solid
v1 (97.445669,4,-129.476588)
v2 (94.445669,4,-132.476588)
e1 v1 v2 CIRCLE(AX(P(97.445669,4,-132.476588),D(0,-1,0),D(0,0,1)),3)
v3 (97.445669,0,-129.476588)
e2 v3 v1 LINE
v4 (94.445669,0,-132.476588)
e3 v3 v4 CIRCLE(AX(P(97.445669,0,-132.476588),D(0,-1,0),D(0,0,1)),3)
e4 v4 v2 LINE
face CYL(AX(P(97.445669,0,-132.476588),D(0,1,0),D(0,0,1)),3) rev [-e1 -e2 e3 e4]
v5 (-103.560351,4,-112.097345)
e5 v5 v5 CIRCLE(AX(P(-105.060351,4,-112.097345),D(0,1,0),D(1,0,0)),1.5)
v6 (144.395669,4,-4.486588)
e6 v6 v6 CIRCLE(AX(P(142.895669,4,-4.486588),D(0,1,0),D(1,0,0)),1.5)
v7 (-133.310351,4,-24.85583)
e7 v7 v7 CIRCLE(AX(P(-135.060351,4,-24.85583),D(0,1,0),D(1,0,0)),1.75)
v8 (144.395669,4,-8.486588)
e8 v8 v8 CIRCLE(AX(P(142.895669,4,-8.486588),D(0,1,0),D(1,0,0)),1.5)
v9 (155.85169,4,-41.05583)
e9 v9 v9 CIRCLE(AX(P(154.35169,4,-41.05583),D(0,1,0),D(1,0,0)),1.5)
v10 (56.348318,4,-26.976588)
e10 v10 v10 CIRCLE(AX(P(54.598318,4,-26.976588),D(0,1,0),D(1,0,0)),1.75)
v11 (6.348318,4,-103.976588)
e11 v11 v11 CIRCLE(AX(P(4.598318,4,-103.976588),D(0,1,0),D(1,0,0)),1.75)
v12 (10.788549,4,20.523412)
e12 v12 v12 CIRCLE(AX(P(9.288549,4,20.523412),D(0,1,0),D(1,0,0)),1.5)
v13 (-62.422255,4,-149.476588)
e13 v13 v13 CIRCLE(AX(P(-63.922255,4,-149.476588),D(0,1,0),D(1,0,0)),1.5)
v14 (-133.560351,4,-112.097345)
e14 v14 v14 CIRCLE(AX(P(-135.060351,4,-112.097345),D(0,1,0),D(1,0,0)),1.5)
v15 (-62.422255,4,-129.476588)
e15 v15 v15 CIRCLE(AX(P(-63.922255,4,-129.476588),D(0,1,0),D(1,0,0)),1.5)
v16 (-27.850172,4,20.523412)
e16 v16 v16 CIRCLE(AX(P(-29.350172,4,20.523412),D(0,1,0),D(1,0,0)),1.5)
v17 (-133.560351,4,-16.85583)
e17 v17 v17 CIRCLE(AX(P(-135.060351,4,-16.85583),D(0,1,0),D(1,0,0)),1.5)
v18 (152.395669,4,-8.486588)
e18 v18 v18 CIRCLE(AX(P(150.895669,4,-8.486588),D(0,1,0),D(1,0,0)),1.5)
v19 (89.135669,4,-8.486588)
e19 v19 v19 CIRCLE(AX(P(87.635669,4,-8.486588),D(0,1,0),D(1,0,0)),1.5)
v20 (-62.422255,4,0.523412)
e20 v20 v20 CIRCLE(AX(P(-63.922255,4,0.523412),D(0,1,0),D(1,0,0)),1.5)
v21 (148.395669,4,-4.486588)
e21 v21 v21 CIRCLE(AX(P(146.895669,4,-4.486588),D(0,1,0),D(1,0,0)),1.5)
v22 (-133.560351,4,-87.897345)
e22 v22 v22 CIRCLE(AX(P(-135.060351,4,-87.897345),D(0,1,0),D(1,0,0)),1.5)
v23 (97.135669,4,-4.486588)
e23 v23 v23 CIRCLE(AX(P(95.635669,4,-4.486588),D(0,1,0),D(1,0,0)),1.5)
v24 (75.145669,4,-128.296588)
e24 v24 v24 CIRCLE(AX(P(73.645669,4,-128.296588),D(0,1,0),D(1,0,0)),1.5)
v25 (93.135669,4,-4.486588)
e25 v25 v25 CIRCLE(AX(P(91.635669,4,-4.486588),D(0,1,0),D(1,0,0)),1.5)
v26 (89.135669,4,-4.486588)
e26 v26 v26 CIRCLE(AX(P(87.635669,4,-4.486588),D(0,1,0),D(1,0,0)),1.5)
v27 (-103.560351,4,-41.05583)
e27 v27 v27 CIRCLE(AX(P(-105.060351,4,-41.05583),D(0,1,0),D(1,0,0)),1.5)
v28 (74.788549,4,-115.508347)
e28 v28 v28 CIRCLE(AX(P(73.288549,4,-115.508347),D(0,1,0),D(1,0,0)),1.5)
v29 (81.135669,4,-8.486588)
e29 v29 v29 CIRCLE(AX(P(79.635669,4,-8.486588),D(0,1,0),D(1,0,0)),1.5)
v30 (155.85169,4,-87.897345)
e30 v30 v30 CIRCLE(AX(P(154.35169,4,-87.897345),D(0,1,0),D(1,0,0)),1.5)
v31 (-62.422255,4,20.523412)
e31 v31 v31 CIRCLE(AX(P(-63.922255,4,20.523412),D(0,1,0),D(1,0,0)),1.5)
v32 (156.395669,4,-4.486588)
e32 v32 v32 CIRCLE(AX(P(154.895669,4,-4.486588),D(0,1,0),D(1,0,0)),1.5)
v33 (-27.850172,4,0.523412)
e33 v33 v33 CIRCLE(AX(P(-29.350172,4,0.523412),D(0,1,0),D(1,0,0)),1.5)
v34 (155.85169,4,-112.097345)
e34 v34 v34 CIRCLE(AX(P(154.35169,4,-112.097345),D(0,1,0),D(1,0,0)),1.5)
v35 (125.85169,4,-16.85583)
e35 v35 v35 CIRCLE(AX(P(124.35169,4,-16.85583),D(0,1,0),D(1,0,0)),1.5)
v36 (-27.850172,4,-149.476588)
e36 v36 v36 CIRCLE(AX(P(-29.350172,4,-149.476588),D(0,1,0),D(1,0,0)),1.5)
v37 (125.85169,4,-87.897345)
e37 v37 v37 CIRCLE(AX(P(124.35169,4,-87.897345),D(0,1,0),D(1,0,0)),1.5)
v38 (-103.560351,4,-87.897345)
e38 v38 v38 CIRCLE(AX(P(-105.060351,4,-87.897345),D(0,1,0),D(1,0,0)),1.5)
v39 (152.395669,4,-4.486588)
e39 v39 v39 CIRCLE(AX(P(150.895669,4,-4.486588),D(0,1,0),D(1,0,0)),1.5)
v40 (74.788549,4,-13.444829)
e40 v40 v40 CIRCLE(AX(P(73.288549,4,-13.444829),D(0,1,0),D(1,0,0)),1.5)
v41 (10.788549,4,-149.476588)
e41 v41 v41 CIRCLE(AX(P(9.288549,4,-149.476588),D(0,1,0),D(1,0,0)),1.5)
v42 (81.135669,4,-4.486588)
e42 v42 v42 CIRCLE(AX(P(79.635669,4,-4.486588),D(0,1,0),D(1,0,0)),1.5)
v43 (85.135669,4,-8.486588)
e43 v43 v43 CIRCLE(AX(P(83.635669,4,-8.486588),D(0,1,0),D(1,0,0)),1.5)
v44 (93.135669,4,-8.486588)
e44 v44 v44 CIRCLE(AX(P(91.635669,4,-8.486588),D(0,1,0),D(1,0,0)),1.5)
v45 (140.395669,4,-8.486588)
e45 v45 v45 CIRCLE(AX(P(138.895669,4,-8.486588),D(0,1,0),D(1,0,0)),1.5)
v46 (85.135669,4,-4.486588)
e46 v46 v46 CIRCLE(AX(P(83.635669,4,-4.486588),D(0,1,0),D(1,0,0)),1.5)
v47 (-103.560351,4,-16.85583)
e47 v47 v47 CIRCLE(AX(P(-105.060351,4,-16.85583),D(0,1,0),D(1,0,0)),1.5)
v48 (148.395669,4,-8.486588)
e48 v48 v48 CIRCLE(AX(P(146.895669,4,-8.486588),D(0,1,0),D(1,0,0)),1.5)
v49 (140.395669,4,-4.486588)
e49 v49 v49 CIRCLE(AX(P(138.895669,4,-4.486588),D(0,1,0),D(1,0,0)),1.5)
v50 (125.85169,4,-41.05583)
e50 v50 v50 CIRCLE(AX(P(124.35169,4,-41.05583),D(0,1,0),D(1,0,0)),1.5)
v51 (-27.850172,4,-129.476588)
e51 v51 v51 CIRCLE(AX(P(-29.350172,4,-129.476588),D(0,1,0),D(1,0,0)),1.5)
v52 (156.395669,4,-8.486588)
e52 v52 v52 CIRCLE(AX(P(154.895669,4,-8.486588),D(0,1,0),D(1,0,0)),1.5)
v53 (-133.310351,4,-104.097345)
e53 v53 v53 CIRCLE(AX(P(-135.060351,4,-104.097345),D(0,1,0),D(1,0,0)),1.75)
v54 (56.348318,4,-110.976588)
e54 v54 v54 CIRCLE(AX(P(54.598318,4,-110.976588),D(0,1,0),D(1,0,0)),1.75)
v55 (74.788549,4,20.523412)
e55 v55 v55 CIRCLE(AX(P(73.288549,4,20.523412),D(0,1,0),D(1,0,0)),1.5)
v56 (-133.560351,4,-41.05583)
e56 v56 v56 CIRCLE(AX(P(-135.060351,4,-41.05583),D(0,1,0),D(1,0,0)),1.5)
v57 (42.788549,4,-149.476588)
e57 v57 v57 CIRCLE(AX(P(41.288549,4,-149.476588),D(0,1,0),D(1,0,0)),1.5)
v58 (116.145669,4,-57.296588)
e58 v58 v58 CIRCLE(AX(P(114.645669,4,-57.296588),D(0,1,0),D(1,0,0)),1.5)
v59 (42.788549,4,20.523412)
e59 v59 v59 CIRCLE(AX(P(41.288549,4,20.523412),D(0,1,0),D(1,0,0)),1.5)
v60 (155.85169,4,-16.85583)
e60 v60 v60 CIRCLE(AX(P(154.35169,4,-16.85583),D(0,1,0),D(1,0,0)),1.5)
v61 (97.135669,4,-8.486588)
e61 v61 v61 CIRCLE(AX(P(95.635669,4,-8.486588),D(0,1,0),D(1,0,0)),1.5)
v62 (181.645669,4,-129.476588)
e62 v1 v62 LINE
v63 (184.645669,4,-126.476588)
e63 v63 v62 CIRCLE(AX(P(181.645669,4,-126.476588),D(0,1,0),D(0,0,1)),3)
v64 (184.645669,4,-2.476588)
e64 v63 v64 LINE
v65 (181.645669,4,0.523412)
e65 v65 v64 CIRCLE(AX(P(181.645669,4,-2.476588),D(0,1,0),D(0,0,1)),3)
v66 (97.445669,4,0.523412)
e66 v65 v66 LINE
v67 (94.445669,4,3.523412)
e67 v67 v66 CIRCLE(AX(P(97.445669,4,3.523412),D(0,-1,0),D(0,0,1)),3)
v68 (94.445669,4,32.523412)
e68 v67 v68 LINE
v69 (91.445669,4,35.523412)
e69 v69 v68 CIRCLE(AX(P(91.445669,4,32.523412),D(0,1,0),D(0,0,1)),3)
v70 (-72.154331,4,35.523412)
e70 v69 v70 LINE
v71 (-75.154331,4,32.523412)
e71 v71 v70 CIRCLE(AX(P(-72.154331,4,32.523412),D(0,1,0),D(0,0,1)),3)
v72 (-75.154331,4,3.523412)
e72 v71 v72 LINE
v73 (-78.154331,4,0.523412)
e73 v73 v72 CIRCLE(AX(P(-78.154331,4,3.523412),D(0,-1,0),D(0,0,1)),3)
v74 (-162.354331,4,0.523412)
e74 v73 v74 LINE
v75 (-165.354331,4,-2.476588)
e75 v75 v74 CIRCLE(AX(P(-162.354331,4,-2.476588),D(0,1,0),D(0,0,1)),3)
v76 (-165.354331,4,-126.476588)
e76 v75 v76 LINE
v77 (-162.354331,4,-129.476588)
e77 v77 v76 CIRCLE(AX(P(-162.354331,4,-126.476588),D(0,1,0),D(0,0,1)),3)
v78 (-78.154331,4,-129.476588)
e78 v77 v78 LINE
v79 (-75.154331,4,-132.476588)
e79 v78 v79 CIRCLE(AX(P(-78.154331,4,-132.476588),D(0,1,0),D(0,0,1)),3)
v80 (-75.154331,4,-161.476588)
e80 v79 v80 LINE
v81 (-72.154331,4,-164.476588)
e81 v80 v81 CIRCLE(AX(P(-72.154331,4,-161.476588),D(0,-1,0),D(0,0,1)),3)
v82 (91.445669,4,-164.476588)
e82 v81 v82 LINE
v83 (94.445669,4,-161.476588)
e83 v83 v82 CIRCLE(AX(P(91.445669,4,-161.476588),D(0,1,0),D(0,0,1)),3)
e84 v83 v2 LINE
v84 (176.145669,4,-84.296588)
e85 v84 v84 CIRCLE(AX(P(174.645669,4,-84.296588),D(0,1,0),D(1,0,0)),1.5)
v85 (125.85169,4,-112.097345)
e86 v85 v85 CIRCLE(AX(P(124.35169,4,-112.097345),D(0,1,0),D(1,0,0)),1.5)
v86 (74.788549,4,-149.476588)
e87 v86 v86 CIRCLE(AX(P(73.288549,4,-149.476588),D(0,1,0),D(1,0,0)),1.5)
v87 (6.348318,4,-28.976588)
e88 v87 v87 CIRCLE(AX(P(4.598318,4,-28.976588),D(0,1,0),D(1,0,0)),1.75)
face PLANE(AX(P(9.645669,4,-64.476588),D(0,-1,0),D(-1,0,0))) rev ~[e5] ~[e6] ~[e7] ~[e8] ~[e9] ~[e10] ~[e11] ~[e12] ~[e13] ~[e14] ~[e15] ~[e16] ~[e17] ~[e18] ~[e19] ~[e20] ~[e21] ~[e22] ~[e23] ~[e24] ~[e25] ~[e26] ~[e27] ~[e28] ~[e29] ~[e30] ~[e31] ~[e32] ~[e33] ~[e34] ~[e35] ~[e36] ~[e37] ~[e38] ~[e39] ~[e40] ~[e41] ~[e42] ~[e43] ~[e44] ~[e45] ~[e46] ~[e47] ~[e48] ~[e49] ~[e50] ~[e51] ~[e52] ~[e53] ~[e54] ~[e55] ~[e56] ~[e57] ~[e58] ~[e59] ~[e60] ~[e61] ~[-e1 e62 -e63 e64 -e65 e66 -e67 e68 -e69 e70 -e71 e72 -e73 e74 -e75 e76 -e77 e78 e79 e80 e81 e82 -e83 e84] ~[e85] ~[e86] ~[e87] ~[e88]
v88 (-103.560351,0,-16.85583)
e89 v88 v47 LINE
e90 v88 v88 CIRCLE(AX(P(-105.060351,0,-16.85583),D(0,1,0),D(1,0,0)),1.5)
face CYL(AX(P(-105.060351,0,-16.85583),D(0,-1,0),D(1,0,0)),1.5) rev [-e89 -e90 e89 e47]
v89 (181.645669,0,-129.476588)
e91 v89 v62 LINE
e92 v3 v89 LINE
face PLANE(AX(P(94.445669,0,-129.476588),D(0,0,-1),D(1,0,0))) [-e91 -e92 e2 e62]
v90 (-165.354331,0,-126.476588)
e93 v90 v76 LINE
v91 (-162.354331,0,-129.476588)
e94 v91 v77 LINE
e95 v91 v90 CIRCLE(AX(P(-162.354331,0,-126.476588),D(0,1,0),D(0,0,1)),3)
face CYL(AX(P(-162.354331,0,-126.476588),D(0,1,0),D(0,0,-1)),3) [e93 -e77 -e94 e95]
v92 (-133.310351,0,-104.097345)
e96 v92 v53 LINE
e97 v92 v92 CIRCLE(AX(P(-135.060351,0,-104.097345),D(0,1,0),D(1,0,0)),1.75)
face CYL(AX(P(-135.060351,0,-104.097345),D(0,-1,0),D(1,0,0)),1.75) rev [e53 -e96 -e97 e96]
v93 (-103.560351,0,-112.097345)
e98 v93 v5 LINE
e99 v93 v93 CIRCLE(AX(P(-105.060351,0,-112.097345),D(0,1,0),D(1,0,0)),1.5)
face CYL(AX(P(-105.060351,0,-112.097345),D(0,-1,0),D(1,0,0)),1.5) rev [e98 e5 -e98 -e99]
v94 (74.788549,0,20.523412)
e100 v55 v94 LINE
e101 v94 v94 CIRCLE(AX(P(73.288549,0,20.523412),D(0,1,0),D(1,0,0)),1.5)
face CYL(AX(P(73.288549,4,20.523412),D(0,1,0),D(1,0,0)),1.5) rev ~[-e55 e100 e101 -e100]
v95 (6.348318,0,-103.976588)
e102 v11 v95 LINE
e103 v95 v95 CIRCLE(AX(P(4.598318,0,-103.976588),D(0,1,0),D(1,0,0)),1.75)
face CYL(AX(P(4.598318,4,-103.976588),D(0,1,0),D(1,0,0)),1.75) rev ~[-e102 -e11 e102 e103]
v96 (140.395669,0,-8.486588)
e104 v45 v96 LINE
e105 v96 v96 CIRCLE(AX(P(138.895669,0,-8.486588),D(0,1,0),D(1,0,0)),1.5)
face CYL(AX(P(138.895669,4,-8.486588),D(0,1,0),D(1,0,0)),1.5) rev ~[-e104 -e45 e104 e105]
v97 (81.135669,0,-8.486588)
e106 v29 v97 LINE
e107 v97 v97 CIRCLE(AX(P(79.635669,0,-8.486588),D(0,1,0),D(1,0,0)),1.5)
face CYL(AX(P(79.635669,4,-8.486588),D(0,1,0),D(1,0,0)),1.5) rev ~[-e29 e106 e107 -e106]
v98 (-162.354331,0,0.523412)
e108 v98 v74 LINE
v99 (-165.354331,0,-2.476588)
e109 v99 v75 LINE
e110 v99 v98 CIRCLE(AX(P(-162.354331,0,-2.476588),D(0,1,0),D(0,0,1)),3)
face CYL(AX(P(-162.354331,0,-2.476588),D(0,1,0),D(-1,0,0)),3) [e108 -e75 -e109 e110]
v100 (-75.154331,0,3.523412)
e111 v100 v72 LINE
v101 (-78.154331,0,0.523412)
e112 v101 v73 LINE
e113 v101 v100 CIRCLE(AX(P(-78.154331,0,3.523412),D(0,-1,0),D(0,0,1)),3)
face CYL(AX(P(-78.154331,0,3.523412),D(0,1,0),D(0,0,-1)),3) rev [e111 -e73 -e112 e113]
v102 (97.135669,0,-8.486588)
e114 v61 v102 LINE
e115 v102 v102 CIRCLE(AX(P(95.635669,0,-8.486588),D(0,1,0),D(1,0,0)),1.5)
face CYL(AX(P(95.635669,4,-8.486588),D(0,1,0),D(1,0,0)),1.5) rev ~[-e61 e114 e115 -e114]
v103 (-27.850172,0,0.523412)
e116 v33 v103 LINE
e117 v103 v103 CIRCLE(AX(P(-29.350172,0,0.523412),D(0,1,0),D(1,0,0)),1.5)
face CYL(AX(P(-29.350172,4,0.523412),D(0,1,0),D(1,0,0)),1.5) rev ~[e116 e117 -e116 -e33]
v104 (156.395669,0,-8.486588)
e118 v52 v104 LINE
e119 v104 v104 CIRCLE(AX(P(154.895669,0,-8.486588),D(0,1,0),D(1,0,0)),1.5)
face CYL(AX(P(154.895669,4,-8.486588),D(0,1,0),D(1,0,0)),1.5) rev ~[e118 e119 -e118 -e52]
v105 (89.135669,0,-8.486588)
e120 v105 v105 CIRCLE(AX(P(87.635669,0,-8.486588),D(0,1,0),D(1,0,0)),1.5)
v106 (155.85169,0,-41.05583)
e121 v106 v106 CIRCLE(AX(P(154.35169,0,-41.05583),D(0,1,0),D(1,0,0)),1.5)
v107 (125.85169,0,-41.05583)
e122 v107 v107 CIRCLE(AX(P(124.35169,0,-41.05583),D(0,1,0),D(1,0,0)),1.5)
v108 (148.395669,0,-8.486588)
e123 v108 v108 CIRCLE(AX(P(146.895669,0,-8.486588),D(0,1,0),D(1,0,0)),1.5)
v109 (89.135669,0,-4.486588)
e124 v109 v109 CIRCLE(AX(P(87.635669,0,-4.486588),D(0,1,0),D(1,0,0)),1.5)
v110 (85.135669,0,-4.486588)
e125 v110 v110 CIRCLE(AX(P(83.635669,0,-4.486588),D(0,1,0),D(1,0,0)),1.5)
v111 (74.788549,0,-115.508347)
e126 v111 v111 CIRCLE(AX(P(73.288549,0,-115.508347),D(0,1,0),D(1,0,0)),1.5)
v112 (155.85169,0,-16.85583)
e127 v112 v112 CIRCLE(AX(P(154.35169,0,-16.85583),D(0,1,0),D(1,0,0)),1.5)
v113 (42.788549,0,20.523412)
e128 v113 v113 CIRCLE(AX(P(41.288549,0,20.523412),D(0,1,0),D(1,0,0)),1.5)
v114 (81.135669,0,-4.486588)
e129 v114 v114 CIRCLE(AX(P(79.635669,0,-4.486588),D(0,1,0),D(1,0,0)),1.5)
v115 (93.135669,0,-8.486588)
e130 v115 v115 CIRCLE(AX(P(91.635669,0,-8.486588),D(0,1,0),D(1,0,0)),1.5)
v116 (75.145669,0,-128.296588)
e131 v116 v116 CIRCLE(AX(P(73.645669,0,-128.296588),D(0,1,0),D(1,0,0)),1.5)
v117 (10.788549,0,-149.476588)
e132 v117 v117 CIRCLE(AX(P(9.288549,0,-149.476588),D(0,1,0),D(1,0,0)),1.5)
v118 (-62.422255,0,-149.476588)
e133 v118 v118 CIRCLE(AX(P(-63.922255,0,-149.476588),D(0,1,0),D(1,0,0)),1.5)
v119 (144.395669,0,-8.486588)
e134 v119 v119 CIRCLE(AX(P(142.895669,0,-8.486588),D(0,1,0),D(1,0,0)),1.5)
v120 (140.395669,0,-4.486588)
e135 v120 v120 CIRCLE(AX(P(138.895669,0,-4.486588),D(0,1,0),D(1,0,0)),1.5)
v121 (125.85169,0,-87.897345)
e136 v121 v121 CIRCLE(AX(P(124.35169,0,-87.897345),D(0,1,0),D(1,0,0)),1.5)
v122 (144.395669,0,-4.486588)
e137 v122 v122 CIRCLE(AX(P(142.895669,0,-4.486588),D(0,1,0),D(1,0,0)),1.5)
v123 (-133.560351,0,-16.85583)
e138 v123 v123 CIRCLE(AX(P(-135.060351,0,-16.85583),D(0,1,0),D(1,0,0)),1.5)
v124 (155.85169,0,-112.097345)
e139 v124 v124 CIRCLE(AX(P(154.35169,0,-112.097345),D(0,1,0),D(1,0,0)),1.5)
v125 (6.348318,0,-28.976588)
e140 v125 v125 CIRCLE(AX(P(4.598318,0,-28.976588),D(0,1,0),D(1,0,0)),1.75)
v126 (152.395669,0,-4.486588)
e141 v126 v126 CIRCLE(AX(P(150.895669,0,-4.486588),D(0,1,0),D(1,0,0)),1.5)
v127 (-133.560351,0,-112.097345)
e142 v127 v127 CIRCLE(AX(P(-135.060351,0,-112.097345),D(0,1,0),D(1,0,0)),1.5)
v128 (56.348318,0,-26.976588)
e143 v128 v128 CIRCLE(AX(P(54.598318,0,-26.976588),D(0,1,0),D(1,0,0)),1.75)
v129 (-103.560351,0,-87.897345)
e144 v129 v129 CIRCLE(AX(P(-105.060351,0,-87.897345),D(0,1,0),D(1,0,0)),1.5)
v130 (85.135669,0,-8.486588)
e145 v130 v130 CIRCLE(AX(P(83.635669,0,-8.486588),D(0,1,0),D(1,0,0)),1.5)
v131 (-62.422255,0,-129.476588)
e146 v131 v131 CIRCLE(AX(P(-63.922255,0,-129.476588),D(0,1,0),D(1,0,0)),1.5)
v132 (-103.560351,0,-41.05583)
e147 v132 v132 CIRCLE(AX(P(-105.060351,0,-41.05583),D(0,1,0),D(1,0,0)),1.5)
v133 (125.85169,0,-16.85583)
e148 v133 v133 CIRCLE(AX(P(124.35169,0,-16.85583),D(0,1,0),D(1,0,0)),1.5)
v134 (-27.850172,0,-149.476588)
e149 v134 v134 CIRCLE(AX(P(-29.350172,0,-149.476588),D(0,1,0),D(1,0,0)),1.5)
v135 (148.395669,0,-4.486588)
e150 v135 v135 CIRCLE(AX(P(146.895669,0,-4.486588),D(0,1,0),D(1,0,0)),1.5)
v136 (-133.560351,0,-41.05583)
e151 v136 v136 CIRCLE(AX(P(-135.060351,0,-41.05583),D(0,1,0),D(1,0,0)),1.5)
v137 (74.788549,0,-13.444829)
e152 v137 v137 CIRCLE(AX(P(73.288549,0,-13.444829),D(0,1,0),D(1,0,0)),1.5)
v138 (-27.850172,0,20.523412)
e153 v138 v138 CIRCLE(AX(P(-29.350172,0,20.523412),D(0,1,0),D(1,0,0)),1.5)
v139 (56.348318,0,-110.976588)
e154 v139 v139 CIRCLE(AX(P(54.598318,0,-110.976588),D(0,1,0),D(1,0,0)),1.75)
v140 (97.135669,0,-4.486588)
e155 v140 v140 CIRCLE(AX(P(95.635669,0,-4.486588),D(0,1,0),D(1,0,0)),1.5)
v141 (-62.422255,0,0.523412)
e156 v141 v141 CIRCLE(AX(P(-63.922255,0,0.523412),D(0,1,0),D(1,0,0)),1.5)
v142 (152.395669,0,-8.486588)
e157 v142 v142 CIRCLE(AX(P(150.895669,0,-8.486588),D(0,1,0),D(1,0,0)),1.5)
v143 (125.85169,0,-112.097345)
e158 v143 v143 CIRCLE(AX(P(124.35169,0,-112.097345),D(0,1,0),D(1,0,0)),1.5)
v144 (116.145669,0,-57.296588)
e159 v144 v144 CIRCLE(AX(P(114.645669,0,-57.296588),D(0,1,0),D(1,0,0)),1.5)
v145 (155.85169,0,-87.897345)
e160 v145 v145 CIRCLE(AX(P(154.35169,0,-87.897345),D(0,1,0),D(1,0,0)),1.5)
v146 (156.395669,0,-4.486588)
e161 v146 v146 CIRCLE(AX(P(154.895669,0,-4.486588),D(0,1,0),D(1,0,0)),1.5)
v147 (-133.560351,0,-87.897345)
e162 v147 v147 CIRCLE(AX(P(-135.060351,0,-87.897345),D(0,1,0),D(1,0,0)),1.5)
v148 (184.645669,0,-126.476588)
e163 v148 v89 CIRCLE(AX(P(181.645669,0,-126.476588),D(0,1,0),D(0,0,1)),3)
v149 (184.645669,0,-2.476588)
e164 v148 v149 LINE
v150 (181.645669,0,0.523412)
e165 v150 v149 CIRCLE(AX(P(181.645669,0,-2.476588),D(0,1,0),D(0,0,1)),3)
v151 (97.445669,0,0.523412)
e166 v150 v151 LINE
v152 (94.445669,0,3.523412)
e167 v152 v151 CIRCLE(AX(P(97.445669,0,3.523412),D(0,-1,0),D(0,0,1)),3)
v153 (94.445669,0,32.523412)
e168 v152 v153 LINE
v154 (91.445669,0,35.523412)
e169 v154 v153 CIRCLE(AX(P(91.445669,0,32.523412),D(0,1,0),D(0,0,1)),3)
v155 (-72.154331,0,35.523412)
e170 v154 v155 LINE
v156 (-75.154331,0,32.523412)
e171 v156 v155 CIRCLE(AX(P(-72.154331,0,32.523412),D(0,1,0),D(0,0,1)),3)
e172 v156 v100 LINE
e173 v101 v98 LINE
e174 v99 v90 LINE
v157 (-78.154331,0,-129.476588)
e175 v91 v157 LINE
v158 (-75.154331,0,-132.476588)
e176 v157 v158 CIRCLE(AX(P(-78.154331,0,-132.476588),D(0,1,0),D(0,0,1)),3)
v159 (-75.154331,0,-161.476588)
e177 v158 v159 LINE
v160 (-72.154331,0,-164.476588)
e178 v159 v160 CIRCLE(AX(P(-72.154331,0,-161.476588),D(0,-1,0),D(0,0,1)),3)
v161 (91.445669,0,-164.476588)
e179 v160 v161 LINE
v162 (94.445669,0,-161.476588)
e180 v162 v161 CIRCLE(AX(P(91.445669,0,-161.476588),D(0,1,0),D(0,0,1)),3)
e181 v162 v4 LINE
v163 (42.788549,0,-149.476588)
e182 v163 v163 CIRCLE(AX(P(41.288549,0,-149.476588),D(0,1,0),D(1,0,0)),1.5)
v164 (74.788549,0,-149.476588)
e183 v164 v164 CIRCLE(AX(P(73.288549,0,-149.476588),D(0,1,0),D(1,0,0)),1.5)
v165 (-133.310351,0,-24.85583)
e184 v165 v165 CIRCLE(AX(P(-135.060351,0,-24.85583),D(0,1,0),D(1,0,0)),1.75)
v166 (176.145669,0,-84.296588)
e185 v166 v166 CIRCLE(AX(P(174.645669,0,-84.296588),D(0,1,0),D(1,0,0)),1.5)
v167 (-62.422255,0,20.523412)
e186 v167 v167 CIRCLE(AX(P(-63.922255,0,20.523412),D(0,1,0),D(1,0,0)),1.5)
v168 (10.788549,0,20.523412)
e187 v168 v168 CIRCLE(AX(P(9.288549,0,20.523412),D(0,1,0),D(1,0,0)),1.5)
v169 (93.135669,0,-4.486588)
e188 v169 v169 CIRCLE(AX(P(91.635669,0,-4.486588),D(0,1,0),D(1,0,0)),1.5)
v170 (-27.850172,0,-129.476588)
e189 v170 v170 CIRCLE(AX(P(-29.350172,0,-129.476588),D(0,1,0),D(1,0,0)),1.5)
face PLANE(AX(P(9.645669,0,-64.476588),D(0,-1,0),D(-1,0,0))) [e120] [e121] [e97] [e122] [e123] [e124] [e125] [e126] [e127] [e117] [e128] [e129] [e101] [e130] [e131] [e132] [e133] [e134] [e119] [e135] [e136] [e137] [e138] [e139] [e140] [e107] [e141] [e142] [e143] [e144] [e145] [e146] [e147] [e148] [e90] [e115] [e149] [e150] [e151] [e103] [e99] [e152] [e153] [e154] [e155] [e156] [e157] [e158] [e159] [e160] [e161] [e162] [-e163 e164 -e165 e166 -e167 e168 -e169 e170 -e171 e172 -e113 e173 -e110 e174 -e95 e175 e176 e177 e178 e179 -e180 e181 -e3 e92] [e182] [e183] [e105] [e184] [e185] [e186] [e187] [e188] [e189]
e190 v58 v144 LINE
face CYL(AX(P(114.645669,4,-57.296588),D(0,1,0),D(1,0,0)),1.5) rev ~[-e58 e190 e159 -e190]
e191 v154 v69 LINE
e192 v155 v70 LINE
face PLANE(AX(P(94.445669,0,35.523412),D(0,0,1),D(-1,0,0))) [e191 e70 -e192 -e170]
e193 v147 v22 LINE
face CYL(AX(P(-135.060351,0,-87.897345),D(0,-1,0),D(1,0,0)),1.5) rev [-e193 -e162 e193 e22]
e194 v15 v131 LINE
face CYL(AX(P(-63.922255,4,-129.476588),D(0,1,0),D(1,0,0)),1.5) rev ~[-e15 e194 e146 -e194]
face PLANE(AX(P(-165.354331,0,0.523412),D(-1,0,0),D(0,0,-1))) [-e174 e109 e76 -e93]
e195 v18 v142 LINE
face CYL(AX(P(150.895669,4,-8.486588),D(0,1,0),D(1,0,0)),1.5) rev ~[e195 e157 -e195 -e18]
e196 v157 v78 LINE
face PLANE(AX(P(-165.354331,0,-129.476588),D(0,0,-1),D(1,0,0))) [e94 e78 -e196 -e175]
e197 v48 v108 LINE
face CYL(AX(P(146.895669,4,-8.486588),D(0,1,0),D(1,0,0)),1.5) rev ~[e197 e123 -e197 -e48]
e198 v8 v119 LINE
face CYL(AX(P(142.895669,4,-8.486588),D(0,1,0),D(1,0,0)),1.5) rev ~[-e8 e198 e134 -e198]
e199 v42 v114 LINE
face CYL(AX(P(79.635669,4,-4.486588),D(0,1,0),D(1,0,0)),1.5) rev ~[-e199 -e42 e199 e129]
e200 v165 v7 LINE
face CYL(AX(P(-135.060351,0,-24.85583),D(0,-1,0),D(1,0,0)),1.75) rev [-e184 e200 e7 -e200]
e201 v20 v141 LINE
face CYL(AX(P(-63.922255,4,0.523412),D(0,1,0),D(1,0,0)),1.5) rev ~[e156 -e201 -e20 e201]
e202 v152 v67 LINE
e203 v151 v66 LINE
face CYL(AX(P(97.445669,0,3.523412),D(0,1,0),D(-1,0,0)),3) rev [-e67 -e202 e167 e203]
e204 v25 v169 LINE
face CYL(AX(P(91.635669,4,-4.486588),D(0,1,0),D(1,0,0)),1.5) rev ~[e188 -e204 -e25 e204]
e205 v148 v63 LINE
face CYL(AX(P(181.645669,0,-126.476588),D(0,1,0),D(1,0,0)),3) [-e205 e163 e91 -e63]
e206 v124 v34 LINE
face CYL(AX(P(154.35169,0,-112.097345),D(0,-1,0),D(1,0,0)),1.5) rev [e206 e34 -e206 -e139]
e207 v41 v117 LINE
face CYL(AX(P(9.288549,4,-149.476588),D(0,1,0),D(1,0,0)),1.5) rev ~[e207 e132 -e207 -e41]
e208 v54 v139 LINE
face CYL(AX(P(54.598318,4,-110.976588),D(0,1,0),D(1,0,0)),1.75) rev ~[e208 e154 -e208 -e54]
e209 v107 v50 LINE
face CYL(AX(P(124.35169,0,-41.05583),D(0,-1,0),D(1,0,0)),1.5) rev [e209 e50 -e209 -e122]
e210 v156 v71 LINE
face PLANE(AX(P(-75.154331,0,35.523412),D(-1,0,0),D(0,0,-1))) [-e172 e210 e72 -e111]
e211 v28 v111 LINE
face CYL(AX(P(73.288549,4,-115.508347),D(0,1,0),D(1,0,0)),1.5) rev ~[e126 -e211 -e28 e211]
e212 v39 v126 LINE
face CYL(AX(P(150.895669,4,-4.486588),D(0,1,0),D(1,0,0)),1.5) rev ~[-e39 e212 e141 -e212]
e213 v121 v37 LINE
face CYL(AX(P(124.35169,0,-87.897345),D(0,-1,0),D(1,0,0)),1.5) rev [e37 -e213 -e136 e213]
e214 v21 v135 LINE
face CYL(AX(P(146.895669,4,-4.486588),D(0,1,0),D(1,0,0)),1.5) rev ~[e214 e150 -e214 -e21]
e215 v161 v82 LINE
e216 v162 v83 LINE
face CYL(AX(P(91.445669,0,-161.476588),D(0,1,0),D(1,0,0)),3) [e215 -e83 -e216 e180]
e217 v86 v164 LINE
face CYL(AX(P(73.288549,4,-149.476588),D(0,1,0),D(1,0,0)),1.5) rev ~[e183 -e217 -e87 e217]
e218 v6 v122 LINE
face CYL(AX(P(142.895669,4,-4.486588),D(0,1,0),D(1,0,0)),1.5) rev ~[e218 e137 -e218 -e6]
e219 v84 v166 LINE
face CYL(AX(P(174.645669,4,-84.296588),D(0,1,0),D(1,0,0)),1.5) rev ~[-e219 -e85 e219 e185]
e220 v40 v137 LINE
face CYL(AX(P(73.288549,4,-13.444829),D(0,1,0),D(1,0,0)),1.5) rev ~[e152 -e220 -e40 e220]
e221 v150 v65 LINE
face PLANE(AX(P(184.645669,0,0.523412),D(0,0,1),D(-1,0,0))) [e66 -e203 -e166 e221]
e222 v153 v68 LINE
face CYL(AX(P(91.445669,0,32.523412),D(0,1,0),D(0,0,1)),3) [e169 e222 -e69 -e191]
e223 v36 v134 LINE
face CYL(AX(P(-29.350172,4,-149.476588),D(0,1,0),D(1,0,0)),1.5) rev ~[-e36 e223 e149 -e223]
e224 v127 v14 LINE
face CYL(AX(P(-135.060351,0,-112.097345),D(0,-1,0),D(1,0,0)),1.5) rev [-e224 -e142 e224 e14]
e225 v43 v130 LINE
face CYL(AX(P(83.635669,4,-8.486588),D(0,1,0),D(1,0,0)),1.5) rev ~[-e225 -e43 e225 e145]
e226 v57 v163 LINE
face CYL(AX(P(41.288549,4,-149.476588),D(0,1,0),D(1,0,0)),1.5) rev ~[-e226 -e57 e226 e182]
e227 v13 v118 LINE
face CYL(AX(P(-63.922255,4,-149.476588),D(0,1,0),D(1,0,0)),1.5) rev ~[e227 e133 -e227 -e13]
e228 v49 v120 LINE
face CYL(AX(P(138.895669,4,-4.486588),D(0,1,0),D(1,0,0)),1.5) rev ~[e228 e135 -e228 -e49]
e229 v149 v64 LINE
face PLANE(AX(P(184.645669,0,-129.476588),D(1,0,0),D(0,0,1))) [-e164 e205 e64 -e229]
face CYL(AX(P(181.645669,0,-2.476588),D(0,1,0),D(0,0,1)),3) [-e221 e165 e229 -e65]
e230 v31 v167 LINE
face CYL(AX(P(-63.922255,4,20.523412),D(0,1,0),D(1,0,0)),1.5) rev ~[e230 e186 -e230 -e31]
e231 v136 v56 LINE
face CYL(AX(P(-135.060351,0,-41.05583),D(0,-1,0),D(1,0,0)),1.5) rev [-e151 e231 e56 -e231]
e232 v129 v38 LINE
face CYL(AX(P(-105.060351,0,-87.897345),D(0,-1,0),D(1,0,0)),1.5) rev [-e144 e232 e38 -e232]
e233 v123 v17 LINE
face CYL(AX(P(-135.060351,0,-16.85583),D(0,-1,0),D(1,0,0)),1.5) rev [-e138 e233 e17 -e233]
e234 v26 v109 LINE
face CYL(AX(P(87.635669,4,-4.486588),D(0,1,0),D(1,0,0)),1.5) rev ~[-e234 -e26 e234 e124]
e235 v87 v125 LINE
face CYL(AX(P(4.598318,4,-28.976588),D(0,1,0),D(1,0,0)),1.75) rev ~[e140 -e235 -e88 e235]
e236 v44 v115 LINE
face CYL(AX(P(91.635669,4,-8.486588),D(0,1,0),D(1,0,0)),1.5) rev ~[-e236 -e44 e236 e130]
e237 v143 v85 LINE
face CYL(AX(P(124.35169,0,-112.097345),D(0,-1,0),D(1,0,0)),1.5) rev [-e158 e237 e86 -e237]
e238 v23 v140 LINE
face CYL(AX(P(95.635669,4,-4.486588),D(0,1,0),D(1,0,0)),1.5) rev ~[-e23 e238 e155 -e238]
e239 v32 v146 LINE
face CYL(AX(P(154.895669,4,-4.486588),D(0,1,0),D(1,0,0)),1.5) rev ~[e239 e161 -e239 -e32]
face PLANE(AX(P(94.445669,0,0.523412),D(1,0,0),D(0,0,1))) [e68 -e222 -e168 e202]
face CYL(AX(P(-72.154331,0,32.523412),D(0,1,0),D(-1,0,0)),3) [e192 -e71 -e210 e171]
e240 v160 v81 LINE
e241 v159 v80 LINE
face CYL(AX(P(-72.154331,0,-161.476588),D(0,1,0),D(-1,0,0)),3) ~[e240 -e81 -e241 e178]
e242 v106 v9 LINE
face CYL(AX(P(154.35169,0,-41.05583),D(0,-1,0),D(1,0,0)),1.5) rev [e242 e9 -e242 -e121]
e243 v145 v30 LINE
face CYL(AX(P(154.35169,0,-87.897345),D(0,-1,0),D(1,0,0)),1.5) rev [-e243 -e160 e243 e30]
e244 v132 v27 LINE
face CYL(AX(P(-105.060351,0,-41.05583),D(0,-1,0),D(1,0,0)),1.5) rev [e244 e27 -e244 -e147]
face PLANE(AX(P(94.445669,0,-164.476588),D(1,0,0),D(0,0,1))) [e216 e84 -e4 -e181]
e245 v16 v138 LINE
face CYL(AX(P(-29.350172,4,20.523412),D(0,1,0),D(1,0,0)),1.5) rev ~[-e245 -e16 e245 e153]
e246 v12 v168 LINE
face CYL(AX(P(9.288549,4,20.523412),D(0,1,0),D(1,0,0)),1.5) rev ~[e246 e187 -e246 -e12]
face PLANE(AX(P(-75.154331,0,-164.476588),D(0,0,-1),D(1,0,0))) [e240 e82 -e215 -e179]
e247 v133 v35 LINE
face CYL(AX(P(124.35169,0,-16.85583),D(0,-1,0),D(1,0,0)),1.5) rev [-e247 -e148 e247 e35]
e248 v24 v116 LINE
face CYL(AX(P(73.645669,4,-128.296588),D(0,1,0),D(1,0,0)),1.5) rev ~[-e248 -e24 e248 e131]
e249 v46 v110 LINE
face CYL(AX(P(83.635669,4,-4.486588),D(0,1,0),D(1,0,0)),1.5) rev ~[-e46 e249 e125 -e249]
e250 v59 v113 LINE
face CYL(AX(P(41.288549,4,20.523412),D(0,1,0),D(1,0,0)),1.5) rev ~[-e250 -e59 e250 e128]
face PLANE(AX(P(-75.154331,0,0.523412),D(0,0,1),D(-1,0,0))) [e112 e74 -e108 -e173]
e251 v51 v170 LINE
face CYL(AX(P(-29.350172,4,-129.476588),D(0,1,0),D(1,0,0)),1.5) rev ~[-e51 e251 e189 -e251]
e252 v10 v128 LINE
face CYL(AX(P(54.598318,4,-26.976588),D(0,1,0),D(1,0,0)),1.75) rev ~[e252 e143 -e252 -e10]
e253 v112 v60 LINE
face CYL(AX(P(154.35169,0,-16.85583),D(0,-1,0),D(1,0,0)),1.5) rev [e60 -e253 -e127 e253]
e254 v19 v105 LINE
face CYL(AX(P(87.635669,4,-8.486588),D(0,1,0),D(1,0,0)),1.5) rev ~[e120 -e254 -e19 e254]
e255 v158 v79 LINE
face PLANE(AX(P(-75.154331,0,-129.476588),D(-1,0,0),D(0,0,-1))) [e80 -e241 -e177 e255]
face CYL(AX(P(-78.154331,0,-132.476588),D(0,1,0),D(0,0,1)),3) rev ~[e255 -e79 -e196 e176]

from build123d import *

# Parameters (mm, degrees)
SKETCH_1_R          = 1.75
SKETCH_1_R_2        = 1.5
EXTRUDE_1_DEPTH     = 4
SKETCH_2_R          = 1.5
CUT_EXTRUDE_1_DEPTH = 5
FILLET_1_R          = 3
FILLET_2_R          = 3
FILLET_3_R          = 3
FILLET_4_R          = 3
FILLET_5_R          = 3
FILLET_6_R          = 3
FILLET_7_R          = 3
FILLET_8_R          = 3
FILLET_9_R          = 3
FILLET_10_R         = 3
FILLET_11_R         = 3
FILLET_12_R         = 3
SKETCH_3_R          = 1.75
CUT_EXTRUDE_2_DEPTH = 5
SKETCH_5_R          = 1.5
CUT_EXTRUDE_3_DEPTH = 5
SKETCH_6_R          = 1.5
CUT_EXTRUDE_4_DEPTH = 10


with BuildPart() as part:
    # 草图1 → 凸台-拉伸1 (new body)
    with BuildSketch(Plane(origin=(0, 0, 0), x_dir=(1, 0, 0), z_dir=(0, 1, 0))):
        Polygon((-165.354330709, -0.523412356), (-165.354330709, 129.476587644), (-75.154330709, 129.476587644), (-75.154330709, 164.476587644), (94.445669291, 164.476587644), (94.445669291, 129.476587644), (184.645669291, 129.476587644), (184.645669291, -0.523412356), (94.445669291, -0.523412356), (94.445669291, -35.523412356), (-75.154330709, -35.523412356), (-75.154330709, -0.523412356), align=None)
        with Locations((-135.060351007, 24.855830169)):
            Circle(SKETCH_1_R, mode=Mode.SUBTRACT)
        with Locations((-135.060351007, 104.097345119)):
            Circle(SKETCH_1_R, mode=Mode.SUBTRACT)
        with Locations((-105.060351007, 87.897345119)):
            Circle(SKETCH_1_R_2, mode=Mode.SUBTRACT)
        with Locations((-105.060351007, 112.097345119)):
            Circle(SKETCH_1_R_2, mode=Mode.SUBTRACT)
        with Locations((-135.060351007, 87.897345119)):
            Circle(SKETCH_1_R_2, mode=Mode.SUBTRACT)
        with Locations((-135.060351007, 112.097345119)):
            Circle(SKETCH_1_R_2, mode=Mode.SUBTRACT)
        with Locations((-105.060351007, 41.055830169)):
            Circle(SKETCH_1_R_2, mode=Mode.SUBTRACT)
        with Locations((-135.060351007, 41.055830169)):
            Circle(SKETCH_1_R_2, mode=Mode.SUBTRACT)
        with Locations((-105.060351007, 16.855830169)):
            Circle(SKETCH_1_R_2, mode=Mode.SUBTRACT)
        with Locations((-135.060351007, 16.855830169)):
            Circle(SKETCH_1_R_2, mode=Mode.SUBTRACT)
        with Locations((124.351689589, 16.855830169)):
            Circle(SKETCH_1_R_2, mode=Mode.SUBTRACT)
        with Locations((154.351689589, 16.855830169)):
            Circle(SKETCH_1_R_2, mode=Mode.SUBTRACT)
        with Locations((124.351689589, 41.055830169)):
            Circle(SKETCH_1_R_2, mode=Mode.SUBTRACT)
        with Locations((154.351689589, 41.055830169)):
            Circle(SKETCH_1_R_2, mode=Mode.SUBTRACT)
        with Locations((124.351689589, 87.897345119)):
            Circle(SKETCH_1_R_2, mode=Mode.SUBTRACT)
        with Locations((154.351689589, 87.897345119)):
            Circle(SKETCH_1_R_2, mode=Mode.SUBTRACT)
        with Locations((124.351689589, 112.097345119)):
            Circle(SKETCH_1_R_2, mode=Mode.SUBTRACT)
        with Locations((154.351689589, 112.097345119)):
            Circle(SKETCH_1_R_2, mode=Mode.SUBTRACT)
    extrude(amount=EXTRUDE_1_DEPTH)

    # 草图2 → 切除-拉伸1 (cut, through all)
    with BuildSketch(Plane(origin=(0, 4, 0), x_dir=(1, 0, 0), z_dir=(0, 1, 0))):
        with Locations((-29.350172185, 149.476587644)):
            Circle(SKETCH_2_R)
        with Locations((-29.350172185, 129.476587644)):
            Circle(SKETCH_2_R)
        with Locations((-63.922255051, 149.476587644)):
            Circle(SKETCH_2_R)
        with Locations((-63.922255051, 129.476587644)):
            Circle(SKETCH_2_R)
        with Locations((-29.350172185, -0.523412356)):
            Circle(SKETCH_2_R)
        with Locations((-29.350172185, -20.523412356)):
            Circle(SKETCH_2_R)
        with Locations((-63.922255051, -20.523412356)):
            Circle(SKETCH_2_R)
        with Locations((-63.922255051, -0.523412356)):
            Circle(SKETCH_2_R)
        with Locations((9.288549374, 149.476587644)):
            Circle(SKETCH_2_R)
        with Locations((41.288549374, 149.476587644)):
            Circle(SKETCH_2_R)
        with Locations((73.288549374, 149.476587644)):
            Circle(SKETCH_2_R)
        with Locations((73.288549374, 115.508346765)):
            Circle(SKETCH_2_R)
        with Locations((41.288549374, -20.523412356)):
            Circle(SKETCH_2_R)
        with Locations((73.288549374, -20.523412356)):
            Circle(SKETCH_2_R)
        with Locations((73.288549374, 13.444828523)):
            Circle(SKETCH_2_R)
        with Locations((9.288549374, -20.523412356)):
            Circle(SKETCH_2_R)
    extrude(amount=-CUT_EXTRUDE_1_DEPTH, mode=Mode.SUBTRACT)

    # 圆角1
    fillet_1_edges = [part.edges().sort_by_distance(p)[0] for p in [
        (-75.154330709, 2, -164.476587644),
    ]]
    fillet(fillet_1_edges, radius=FILLET_1_R)

    # 圆角2
    fillet_2_edges = [part.edges().sort_by_distance(p)[0] for p in [
        (-165.354330709, 2, -129.476587644),
    ]]
    fillet(fillet_2_edges, radius=FILLET_2_R)

    # 圆角3
    fillet_3_edges = [part.edges().sort_by_distance(p)[0] for p in [
        (-75.154330709, 2, -129.476587644),
    ]]
    fillet(fillet_3_edges, radius=FILLET_3_R)

    # 圆角4
    fillet_4_edges = [part.edges().sort_by_distance(p)[0] for p in [
        (-165.354330709, 2, 0.523412356),
    ]]
    fillet(fillet_4_edges, radius=FILLET_4_R)

    # 圆角5
    fillet_5_edges = [part.edges().sort_by_distance(p)[0] for p in [
        (-75.154330709, 2, 0.523412356),
    ]]
    fillet(fillet_5_edges, radius=FILLET_5_R)

    # 圆角6
    fillet_6_edges = [part.edges().sort_by_distance(p)[0] for p in [
        (-75.154330709, 2, 35.523412356),
    ]]
    fillet(fillet_6_edges, radius=FILLET_6_R)

    # 圆角7
    fillet_7_edges = [part.edges().sort_by_distance(p)[0] for p in [
        (94.445669291, 2, 35.523412356),
    ]]
    fillet(fillet_7_edges, radius=FILLET_7_R)

    # 圆角8
    fillet_8_edges = [part.edges().sort_by_distance(p)[0] for p in [
        (94.445669291, 2, 0.523412356),
    ]]
    fillet(fillet_8_edges, radius=FILLET_8_R)

    # 圆角9
    fillet_9_edges = [part.edges().sort_by_distance(p)[0] for p in [
        (184.645669291, 2, 0.523412356),
    ]]
    fillet(fillet_9_edges, radius=FILLET_9_R)

    # 圆角10
    fillet_10_edges = [part.edges().sort_by_distance(p)[0] for p in [
        (184.645669291, 2, -129.476587644),
    ]]
    fillet(fillet_10_edges, radius=FILLET_10_R)

    # 圆角11
    fillet_11_edges = [part.edges().sort_by_distance(p)[0] for p in [
        (94.445669291, 2, -129.476587644),
    ]]
    fillet(fillet_11_edges, radius=FILLET_11_R)

    # 圆角12
    fillet_12_edges = [part.edges().sort_by_distance(p)[0] for p in [
        (94.445669291, 2, -164.476587644),
    ]]
    fillet(fillet_12_edges, radius=FILLET_12_R)

    # 草图3 → 切除-拉伸2 (cut, through all)
    with BuildSketch(Plane(origin=(0, 4, 0), x_dir=(1, 0, 0), z_dir=(0, 1, 0))):
        with Locations((54.598317565, 26.976587644)):
            Circle(SKETCH_3_R)
        with Locations((54.598317565, 110.976587644)):
            Circle(SKETCH_3_R)
        with Locations((4.598317565, 28.976587644)):
            Circle(SKETCH_3_R)
        with Locations((4.598317565, 103.976587644)):
            Circle(SKETCH_3_R)
    extrude(amount=-CUT_EXTRUDE_2_DEPTH, mode=Mode.SUBTRACT)

    # 草图5 → 切除-拉伸3 (cut, through all)
    with BuildSketch(Plane(origin=(0, 4, 0), x_dir=(1, 0, 0), z_dir=(0, 1, 0))):
        with Locations((73.645669291, 128.296587644)):
            Circle(SKETCH_5_R)
        with Locations((174.645669291, 84.296587644)):
            Circle(SKETCH_5_R)
        with Locations((114.645669291, 57.296587644)):
            Circle(SKETCH_5_R)
    extrude(amount=-CUT_EXTRUDE_3_DEPTH, mode=Mode.SUBTRACT)

    # 草图6 → 切除-拉伸4 (cut)
    with BuildSketch(Plane(origin=(0, 4, 0), x_dir=(1, 0, 0), z_dir=(0, 1, 0))):
        with Locations((146.895669291, 8.486587644)):
            Circle(SKETCH_6_R)
        with Locations((83.635669291, 8.486587644)):
            Circle(SKETCH_6_R)
        with Locations((142.895669291, 8.486587644)):
            Circle(SKETCH_6_R)
        with Locations((79.635669291, 8.486587644)):
            Circle(SKETCH_6_R)
        with Locations((138.895669291, 8.486587644)):
            Circle(SKETCH_6_R)
        with Locations((87.635669291, 8.486587644)):
            Circle(SKETCH_6_R)
        with Locations((91.635669291, 8.486587644)):
            Circle(SKETCH_6_R)
        with Locations((150.895669291, 8.486587644)):
            Circle(SKETCH_6_R)
        with Locations((95.635669291, 8.486587644)):
            Circle(SKETCH_6_R)
        with Locations((154.895669291, 8.486587644)):
            Circle(SKETCH_6_R)
        with Locations((87.635669291, 4.486587644)):
            Circle(SKETCH_6_R)
        with Locations((146.895669291, 4.486587644)):
            Circle(SKETCH_6_R)
        with Locations((79.635669291, 4.486587644)):
            Circle(SKETCH_6_R)
        with Locations((83.635669291, 4.486587644)):
            Circle(SKETCH_6_R)
        with Locations((91.635669291, 4.486587644)):
            Circle(SKETCH_6_R)
        with Locations((95.635669291, 4.486587644)):
            Circle(SKETCH_6_R)
        with Locations((138.895669291, 4.486587644)):
            Circle(SKETCH_6_R)
        with Locations((142.895669291, 4.486587644)):
            Circle(SKETCH_6_R)
        with Locations((150.895669291, 4.486587644)):
            Circle(SKETCH_6_R)
        with Locations((154.895669291, 4.486587644)):
            Circle(SKETCH_6_R)
    extrude(amount=-CUT_EXTRUDE_4_DEPTH, mode=Mode.SUBTRACT)


solid = part.part
